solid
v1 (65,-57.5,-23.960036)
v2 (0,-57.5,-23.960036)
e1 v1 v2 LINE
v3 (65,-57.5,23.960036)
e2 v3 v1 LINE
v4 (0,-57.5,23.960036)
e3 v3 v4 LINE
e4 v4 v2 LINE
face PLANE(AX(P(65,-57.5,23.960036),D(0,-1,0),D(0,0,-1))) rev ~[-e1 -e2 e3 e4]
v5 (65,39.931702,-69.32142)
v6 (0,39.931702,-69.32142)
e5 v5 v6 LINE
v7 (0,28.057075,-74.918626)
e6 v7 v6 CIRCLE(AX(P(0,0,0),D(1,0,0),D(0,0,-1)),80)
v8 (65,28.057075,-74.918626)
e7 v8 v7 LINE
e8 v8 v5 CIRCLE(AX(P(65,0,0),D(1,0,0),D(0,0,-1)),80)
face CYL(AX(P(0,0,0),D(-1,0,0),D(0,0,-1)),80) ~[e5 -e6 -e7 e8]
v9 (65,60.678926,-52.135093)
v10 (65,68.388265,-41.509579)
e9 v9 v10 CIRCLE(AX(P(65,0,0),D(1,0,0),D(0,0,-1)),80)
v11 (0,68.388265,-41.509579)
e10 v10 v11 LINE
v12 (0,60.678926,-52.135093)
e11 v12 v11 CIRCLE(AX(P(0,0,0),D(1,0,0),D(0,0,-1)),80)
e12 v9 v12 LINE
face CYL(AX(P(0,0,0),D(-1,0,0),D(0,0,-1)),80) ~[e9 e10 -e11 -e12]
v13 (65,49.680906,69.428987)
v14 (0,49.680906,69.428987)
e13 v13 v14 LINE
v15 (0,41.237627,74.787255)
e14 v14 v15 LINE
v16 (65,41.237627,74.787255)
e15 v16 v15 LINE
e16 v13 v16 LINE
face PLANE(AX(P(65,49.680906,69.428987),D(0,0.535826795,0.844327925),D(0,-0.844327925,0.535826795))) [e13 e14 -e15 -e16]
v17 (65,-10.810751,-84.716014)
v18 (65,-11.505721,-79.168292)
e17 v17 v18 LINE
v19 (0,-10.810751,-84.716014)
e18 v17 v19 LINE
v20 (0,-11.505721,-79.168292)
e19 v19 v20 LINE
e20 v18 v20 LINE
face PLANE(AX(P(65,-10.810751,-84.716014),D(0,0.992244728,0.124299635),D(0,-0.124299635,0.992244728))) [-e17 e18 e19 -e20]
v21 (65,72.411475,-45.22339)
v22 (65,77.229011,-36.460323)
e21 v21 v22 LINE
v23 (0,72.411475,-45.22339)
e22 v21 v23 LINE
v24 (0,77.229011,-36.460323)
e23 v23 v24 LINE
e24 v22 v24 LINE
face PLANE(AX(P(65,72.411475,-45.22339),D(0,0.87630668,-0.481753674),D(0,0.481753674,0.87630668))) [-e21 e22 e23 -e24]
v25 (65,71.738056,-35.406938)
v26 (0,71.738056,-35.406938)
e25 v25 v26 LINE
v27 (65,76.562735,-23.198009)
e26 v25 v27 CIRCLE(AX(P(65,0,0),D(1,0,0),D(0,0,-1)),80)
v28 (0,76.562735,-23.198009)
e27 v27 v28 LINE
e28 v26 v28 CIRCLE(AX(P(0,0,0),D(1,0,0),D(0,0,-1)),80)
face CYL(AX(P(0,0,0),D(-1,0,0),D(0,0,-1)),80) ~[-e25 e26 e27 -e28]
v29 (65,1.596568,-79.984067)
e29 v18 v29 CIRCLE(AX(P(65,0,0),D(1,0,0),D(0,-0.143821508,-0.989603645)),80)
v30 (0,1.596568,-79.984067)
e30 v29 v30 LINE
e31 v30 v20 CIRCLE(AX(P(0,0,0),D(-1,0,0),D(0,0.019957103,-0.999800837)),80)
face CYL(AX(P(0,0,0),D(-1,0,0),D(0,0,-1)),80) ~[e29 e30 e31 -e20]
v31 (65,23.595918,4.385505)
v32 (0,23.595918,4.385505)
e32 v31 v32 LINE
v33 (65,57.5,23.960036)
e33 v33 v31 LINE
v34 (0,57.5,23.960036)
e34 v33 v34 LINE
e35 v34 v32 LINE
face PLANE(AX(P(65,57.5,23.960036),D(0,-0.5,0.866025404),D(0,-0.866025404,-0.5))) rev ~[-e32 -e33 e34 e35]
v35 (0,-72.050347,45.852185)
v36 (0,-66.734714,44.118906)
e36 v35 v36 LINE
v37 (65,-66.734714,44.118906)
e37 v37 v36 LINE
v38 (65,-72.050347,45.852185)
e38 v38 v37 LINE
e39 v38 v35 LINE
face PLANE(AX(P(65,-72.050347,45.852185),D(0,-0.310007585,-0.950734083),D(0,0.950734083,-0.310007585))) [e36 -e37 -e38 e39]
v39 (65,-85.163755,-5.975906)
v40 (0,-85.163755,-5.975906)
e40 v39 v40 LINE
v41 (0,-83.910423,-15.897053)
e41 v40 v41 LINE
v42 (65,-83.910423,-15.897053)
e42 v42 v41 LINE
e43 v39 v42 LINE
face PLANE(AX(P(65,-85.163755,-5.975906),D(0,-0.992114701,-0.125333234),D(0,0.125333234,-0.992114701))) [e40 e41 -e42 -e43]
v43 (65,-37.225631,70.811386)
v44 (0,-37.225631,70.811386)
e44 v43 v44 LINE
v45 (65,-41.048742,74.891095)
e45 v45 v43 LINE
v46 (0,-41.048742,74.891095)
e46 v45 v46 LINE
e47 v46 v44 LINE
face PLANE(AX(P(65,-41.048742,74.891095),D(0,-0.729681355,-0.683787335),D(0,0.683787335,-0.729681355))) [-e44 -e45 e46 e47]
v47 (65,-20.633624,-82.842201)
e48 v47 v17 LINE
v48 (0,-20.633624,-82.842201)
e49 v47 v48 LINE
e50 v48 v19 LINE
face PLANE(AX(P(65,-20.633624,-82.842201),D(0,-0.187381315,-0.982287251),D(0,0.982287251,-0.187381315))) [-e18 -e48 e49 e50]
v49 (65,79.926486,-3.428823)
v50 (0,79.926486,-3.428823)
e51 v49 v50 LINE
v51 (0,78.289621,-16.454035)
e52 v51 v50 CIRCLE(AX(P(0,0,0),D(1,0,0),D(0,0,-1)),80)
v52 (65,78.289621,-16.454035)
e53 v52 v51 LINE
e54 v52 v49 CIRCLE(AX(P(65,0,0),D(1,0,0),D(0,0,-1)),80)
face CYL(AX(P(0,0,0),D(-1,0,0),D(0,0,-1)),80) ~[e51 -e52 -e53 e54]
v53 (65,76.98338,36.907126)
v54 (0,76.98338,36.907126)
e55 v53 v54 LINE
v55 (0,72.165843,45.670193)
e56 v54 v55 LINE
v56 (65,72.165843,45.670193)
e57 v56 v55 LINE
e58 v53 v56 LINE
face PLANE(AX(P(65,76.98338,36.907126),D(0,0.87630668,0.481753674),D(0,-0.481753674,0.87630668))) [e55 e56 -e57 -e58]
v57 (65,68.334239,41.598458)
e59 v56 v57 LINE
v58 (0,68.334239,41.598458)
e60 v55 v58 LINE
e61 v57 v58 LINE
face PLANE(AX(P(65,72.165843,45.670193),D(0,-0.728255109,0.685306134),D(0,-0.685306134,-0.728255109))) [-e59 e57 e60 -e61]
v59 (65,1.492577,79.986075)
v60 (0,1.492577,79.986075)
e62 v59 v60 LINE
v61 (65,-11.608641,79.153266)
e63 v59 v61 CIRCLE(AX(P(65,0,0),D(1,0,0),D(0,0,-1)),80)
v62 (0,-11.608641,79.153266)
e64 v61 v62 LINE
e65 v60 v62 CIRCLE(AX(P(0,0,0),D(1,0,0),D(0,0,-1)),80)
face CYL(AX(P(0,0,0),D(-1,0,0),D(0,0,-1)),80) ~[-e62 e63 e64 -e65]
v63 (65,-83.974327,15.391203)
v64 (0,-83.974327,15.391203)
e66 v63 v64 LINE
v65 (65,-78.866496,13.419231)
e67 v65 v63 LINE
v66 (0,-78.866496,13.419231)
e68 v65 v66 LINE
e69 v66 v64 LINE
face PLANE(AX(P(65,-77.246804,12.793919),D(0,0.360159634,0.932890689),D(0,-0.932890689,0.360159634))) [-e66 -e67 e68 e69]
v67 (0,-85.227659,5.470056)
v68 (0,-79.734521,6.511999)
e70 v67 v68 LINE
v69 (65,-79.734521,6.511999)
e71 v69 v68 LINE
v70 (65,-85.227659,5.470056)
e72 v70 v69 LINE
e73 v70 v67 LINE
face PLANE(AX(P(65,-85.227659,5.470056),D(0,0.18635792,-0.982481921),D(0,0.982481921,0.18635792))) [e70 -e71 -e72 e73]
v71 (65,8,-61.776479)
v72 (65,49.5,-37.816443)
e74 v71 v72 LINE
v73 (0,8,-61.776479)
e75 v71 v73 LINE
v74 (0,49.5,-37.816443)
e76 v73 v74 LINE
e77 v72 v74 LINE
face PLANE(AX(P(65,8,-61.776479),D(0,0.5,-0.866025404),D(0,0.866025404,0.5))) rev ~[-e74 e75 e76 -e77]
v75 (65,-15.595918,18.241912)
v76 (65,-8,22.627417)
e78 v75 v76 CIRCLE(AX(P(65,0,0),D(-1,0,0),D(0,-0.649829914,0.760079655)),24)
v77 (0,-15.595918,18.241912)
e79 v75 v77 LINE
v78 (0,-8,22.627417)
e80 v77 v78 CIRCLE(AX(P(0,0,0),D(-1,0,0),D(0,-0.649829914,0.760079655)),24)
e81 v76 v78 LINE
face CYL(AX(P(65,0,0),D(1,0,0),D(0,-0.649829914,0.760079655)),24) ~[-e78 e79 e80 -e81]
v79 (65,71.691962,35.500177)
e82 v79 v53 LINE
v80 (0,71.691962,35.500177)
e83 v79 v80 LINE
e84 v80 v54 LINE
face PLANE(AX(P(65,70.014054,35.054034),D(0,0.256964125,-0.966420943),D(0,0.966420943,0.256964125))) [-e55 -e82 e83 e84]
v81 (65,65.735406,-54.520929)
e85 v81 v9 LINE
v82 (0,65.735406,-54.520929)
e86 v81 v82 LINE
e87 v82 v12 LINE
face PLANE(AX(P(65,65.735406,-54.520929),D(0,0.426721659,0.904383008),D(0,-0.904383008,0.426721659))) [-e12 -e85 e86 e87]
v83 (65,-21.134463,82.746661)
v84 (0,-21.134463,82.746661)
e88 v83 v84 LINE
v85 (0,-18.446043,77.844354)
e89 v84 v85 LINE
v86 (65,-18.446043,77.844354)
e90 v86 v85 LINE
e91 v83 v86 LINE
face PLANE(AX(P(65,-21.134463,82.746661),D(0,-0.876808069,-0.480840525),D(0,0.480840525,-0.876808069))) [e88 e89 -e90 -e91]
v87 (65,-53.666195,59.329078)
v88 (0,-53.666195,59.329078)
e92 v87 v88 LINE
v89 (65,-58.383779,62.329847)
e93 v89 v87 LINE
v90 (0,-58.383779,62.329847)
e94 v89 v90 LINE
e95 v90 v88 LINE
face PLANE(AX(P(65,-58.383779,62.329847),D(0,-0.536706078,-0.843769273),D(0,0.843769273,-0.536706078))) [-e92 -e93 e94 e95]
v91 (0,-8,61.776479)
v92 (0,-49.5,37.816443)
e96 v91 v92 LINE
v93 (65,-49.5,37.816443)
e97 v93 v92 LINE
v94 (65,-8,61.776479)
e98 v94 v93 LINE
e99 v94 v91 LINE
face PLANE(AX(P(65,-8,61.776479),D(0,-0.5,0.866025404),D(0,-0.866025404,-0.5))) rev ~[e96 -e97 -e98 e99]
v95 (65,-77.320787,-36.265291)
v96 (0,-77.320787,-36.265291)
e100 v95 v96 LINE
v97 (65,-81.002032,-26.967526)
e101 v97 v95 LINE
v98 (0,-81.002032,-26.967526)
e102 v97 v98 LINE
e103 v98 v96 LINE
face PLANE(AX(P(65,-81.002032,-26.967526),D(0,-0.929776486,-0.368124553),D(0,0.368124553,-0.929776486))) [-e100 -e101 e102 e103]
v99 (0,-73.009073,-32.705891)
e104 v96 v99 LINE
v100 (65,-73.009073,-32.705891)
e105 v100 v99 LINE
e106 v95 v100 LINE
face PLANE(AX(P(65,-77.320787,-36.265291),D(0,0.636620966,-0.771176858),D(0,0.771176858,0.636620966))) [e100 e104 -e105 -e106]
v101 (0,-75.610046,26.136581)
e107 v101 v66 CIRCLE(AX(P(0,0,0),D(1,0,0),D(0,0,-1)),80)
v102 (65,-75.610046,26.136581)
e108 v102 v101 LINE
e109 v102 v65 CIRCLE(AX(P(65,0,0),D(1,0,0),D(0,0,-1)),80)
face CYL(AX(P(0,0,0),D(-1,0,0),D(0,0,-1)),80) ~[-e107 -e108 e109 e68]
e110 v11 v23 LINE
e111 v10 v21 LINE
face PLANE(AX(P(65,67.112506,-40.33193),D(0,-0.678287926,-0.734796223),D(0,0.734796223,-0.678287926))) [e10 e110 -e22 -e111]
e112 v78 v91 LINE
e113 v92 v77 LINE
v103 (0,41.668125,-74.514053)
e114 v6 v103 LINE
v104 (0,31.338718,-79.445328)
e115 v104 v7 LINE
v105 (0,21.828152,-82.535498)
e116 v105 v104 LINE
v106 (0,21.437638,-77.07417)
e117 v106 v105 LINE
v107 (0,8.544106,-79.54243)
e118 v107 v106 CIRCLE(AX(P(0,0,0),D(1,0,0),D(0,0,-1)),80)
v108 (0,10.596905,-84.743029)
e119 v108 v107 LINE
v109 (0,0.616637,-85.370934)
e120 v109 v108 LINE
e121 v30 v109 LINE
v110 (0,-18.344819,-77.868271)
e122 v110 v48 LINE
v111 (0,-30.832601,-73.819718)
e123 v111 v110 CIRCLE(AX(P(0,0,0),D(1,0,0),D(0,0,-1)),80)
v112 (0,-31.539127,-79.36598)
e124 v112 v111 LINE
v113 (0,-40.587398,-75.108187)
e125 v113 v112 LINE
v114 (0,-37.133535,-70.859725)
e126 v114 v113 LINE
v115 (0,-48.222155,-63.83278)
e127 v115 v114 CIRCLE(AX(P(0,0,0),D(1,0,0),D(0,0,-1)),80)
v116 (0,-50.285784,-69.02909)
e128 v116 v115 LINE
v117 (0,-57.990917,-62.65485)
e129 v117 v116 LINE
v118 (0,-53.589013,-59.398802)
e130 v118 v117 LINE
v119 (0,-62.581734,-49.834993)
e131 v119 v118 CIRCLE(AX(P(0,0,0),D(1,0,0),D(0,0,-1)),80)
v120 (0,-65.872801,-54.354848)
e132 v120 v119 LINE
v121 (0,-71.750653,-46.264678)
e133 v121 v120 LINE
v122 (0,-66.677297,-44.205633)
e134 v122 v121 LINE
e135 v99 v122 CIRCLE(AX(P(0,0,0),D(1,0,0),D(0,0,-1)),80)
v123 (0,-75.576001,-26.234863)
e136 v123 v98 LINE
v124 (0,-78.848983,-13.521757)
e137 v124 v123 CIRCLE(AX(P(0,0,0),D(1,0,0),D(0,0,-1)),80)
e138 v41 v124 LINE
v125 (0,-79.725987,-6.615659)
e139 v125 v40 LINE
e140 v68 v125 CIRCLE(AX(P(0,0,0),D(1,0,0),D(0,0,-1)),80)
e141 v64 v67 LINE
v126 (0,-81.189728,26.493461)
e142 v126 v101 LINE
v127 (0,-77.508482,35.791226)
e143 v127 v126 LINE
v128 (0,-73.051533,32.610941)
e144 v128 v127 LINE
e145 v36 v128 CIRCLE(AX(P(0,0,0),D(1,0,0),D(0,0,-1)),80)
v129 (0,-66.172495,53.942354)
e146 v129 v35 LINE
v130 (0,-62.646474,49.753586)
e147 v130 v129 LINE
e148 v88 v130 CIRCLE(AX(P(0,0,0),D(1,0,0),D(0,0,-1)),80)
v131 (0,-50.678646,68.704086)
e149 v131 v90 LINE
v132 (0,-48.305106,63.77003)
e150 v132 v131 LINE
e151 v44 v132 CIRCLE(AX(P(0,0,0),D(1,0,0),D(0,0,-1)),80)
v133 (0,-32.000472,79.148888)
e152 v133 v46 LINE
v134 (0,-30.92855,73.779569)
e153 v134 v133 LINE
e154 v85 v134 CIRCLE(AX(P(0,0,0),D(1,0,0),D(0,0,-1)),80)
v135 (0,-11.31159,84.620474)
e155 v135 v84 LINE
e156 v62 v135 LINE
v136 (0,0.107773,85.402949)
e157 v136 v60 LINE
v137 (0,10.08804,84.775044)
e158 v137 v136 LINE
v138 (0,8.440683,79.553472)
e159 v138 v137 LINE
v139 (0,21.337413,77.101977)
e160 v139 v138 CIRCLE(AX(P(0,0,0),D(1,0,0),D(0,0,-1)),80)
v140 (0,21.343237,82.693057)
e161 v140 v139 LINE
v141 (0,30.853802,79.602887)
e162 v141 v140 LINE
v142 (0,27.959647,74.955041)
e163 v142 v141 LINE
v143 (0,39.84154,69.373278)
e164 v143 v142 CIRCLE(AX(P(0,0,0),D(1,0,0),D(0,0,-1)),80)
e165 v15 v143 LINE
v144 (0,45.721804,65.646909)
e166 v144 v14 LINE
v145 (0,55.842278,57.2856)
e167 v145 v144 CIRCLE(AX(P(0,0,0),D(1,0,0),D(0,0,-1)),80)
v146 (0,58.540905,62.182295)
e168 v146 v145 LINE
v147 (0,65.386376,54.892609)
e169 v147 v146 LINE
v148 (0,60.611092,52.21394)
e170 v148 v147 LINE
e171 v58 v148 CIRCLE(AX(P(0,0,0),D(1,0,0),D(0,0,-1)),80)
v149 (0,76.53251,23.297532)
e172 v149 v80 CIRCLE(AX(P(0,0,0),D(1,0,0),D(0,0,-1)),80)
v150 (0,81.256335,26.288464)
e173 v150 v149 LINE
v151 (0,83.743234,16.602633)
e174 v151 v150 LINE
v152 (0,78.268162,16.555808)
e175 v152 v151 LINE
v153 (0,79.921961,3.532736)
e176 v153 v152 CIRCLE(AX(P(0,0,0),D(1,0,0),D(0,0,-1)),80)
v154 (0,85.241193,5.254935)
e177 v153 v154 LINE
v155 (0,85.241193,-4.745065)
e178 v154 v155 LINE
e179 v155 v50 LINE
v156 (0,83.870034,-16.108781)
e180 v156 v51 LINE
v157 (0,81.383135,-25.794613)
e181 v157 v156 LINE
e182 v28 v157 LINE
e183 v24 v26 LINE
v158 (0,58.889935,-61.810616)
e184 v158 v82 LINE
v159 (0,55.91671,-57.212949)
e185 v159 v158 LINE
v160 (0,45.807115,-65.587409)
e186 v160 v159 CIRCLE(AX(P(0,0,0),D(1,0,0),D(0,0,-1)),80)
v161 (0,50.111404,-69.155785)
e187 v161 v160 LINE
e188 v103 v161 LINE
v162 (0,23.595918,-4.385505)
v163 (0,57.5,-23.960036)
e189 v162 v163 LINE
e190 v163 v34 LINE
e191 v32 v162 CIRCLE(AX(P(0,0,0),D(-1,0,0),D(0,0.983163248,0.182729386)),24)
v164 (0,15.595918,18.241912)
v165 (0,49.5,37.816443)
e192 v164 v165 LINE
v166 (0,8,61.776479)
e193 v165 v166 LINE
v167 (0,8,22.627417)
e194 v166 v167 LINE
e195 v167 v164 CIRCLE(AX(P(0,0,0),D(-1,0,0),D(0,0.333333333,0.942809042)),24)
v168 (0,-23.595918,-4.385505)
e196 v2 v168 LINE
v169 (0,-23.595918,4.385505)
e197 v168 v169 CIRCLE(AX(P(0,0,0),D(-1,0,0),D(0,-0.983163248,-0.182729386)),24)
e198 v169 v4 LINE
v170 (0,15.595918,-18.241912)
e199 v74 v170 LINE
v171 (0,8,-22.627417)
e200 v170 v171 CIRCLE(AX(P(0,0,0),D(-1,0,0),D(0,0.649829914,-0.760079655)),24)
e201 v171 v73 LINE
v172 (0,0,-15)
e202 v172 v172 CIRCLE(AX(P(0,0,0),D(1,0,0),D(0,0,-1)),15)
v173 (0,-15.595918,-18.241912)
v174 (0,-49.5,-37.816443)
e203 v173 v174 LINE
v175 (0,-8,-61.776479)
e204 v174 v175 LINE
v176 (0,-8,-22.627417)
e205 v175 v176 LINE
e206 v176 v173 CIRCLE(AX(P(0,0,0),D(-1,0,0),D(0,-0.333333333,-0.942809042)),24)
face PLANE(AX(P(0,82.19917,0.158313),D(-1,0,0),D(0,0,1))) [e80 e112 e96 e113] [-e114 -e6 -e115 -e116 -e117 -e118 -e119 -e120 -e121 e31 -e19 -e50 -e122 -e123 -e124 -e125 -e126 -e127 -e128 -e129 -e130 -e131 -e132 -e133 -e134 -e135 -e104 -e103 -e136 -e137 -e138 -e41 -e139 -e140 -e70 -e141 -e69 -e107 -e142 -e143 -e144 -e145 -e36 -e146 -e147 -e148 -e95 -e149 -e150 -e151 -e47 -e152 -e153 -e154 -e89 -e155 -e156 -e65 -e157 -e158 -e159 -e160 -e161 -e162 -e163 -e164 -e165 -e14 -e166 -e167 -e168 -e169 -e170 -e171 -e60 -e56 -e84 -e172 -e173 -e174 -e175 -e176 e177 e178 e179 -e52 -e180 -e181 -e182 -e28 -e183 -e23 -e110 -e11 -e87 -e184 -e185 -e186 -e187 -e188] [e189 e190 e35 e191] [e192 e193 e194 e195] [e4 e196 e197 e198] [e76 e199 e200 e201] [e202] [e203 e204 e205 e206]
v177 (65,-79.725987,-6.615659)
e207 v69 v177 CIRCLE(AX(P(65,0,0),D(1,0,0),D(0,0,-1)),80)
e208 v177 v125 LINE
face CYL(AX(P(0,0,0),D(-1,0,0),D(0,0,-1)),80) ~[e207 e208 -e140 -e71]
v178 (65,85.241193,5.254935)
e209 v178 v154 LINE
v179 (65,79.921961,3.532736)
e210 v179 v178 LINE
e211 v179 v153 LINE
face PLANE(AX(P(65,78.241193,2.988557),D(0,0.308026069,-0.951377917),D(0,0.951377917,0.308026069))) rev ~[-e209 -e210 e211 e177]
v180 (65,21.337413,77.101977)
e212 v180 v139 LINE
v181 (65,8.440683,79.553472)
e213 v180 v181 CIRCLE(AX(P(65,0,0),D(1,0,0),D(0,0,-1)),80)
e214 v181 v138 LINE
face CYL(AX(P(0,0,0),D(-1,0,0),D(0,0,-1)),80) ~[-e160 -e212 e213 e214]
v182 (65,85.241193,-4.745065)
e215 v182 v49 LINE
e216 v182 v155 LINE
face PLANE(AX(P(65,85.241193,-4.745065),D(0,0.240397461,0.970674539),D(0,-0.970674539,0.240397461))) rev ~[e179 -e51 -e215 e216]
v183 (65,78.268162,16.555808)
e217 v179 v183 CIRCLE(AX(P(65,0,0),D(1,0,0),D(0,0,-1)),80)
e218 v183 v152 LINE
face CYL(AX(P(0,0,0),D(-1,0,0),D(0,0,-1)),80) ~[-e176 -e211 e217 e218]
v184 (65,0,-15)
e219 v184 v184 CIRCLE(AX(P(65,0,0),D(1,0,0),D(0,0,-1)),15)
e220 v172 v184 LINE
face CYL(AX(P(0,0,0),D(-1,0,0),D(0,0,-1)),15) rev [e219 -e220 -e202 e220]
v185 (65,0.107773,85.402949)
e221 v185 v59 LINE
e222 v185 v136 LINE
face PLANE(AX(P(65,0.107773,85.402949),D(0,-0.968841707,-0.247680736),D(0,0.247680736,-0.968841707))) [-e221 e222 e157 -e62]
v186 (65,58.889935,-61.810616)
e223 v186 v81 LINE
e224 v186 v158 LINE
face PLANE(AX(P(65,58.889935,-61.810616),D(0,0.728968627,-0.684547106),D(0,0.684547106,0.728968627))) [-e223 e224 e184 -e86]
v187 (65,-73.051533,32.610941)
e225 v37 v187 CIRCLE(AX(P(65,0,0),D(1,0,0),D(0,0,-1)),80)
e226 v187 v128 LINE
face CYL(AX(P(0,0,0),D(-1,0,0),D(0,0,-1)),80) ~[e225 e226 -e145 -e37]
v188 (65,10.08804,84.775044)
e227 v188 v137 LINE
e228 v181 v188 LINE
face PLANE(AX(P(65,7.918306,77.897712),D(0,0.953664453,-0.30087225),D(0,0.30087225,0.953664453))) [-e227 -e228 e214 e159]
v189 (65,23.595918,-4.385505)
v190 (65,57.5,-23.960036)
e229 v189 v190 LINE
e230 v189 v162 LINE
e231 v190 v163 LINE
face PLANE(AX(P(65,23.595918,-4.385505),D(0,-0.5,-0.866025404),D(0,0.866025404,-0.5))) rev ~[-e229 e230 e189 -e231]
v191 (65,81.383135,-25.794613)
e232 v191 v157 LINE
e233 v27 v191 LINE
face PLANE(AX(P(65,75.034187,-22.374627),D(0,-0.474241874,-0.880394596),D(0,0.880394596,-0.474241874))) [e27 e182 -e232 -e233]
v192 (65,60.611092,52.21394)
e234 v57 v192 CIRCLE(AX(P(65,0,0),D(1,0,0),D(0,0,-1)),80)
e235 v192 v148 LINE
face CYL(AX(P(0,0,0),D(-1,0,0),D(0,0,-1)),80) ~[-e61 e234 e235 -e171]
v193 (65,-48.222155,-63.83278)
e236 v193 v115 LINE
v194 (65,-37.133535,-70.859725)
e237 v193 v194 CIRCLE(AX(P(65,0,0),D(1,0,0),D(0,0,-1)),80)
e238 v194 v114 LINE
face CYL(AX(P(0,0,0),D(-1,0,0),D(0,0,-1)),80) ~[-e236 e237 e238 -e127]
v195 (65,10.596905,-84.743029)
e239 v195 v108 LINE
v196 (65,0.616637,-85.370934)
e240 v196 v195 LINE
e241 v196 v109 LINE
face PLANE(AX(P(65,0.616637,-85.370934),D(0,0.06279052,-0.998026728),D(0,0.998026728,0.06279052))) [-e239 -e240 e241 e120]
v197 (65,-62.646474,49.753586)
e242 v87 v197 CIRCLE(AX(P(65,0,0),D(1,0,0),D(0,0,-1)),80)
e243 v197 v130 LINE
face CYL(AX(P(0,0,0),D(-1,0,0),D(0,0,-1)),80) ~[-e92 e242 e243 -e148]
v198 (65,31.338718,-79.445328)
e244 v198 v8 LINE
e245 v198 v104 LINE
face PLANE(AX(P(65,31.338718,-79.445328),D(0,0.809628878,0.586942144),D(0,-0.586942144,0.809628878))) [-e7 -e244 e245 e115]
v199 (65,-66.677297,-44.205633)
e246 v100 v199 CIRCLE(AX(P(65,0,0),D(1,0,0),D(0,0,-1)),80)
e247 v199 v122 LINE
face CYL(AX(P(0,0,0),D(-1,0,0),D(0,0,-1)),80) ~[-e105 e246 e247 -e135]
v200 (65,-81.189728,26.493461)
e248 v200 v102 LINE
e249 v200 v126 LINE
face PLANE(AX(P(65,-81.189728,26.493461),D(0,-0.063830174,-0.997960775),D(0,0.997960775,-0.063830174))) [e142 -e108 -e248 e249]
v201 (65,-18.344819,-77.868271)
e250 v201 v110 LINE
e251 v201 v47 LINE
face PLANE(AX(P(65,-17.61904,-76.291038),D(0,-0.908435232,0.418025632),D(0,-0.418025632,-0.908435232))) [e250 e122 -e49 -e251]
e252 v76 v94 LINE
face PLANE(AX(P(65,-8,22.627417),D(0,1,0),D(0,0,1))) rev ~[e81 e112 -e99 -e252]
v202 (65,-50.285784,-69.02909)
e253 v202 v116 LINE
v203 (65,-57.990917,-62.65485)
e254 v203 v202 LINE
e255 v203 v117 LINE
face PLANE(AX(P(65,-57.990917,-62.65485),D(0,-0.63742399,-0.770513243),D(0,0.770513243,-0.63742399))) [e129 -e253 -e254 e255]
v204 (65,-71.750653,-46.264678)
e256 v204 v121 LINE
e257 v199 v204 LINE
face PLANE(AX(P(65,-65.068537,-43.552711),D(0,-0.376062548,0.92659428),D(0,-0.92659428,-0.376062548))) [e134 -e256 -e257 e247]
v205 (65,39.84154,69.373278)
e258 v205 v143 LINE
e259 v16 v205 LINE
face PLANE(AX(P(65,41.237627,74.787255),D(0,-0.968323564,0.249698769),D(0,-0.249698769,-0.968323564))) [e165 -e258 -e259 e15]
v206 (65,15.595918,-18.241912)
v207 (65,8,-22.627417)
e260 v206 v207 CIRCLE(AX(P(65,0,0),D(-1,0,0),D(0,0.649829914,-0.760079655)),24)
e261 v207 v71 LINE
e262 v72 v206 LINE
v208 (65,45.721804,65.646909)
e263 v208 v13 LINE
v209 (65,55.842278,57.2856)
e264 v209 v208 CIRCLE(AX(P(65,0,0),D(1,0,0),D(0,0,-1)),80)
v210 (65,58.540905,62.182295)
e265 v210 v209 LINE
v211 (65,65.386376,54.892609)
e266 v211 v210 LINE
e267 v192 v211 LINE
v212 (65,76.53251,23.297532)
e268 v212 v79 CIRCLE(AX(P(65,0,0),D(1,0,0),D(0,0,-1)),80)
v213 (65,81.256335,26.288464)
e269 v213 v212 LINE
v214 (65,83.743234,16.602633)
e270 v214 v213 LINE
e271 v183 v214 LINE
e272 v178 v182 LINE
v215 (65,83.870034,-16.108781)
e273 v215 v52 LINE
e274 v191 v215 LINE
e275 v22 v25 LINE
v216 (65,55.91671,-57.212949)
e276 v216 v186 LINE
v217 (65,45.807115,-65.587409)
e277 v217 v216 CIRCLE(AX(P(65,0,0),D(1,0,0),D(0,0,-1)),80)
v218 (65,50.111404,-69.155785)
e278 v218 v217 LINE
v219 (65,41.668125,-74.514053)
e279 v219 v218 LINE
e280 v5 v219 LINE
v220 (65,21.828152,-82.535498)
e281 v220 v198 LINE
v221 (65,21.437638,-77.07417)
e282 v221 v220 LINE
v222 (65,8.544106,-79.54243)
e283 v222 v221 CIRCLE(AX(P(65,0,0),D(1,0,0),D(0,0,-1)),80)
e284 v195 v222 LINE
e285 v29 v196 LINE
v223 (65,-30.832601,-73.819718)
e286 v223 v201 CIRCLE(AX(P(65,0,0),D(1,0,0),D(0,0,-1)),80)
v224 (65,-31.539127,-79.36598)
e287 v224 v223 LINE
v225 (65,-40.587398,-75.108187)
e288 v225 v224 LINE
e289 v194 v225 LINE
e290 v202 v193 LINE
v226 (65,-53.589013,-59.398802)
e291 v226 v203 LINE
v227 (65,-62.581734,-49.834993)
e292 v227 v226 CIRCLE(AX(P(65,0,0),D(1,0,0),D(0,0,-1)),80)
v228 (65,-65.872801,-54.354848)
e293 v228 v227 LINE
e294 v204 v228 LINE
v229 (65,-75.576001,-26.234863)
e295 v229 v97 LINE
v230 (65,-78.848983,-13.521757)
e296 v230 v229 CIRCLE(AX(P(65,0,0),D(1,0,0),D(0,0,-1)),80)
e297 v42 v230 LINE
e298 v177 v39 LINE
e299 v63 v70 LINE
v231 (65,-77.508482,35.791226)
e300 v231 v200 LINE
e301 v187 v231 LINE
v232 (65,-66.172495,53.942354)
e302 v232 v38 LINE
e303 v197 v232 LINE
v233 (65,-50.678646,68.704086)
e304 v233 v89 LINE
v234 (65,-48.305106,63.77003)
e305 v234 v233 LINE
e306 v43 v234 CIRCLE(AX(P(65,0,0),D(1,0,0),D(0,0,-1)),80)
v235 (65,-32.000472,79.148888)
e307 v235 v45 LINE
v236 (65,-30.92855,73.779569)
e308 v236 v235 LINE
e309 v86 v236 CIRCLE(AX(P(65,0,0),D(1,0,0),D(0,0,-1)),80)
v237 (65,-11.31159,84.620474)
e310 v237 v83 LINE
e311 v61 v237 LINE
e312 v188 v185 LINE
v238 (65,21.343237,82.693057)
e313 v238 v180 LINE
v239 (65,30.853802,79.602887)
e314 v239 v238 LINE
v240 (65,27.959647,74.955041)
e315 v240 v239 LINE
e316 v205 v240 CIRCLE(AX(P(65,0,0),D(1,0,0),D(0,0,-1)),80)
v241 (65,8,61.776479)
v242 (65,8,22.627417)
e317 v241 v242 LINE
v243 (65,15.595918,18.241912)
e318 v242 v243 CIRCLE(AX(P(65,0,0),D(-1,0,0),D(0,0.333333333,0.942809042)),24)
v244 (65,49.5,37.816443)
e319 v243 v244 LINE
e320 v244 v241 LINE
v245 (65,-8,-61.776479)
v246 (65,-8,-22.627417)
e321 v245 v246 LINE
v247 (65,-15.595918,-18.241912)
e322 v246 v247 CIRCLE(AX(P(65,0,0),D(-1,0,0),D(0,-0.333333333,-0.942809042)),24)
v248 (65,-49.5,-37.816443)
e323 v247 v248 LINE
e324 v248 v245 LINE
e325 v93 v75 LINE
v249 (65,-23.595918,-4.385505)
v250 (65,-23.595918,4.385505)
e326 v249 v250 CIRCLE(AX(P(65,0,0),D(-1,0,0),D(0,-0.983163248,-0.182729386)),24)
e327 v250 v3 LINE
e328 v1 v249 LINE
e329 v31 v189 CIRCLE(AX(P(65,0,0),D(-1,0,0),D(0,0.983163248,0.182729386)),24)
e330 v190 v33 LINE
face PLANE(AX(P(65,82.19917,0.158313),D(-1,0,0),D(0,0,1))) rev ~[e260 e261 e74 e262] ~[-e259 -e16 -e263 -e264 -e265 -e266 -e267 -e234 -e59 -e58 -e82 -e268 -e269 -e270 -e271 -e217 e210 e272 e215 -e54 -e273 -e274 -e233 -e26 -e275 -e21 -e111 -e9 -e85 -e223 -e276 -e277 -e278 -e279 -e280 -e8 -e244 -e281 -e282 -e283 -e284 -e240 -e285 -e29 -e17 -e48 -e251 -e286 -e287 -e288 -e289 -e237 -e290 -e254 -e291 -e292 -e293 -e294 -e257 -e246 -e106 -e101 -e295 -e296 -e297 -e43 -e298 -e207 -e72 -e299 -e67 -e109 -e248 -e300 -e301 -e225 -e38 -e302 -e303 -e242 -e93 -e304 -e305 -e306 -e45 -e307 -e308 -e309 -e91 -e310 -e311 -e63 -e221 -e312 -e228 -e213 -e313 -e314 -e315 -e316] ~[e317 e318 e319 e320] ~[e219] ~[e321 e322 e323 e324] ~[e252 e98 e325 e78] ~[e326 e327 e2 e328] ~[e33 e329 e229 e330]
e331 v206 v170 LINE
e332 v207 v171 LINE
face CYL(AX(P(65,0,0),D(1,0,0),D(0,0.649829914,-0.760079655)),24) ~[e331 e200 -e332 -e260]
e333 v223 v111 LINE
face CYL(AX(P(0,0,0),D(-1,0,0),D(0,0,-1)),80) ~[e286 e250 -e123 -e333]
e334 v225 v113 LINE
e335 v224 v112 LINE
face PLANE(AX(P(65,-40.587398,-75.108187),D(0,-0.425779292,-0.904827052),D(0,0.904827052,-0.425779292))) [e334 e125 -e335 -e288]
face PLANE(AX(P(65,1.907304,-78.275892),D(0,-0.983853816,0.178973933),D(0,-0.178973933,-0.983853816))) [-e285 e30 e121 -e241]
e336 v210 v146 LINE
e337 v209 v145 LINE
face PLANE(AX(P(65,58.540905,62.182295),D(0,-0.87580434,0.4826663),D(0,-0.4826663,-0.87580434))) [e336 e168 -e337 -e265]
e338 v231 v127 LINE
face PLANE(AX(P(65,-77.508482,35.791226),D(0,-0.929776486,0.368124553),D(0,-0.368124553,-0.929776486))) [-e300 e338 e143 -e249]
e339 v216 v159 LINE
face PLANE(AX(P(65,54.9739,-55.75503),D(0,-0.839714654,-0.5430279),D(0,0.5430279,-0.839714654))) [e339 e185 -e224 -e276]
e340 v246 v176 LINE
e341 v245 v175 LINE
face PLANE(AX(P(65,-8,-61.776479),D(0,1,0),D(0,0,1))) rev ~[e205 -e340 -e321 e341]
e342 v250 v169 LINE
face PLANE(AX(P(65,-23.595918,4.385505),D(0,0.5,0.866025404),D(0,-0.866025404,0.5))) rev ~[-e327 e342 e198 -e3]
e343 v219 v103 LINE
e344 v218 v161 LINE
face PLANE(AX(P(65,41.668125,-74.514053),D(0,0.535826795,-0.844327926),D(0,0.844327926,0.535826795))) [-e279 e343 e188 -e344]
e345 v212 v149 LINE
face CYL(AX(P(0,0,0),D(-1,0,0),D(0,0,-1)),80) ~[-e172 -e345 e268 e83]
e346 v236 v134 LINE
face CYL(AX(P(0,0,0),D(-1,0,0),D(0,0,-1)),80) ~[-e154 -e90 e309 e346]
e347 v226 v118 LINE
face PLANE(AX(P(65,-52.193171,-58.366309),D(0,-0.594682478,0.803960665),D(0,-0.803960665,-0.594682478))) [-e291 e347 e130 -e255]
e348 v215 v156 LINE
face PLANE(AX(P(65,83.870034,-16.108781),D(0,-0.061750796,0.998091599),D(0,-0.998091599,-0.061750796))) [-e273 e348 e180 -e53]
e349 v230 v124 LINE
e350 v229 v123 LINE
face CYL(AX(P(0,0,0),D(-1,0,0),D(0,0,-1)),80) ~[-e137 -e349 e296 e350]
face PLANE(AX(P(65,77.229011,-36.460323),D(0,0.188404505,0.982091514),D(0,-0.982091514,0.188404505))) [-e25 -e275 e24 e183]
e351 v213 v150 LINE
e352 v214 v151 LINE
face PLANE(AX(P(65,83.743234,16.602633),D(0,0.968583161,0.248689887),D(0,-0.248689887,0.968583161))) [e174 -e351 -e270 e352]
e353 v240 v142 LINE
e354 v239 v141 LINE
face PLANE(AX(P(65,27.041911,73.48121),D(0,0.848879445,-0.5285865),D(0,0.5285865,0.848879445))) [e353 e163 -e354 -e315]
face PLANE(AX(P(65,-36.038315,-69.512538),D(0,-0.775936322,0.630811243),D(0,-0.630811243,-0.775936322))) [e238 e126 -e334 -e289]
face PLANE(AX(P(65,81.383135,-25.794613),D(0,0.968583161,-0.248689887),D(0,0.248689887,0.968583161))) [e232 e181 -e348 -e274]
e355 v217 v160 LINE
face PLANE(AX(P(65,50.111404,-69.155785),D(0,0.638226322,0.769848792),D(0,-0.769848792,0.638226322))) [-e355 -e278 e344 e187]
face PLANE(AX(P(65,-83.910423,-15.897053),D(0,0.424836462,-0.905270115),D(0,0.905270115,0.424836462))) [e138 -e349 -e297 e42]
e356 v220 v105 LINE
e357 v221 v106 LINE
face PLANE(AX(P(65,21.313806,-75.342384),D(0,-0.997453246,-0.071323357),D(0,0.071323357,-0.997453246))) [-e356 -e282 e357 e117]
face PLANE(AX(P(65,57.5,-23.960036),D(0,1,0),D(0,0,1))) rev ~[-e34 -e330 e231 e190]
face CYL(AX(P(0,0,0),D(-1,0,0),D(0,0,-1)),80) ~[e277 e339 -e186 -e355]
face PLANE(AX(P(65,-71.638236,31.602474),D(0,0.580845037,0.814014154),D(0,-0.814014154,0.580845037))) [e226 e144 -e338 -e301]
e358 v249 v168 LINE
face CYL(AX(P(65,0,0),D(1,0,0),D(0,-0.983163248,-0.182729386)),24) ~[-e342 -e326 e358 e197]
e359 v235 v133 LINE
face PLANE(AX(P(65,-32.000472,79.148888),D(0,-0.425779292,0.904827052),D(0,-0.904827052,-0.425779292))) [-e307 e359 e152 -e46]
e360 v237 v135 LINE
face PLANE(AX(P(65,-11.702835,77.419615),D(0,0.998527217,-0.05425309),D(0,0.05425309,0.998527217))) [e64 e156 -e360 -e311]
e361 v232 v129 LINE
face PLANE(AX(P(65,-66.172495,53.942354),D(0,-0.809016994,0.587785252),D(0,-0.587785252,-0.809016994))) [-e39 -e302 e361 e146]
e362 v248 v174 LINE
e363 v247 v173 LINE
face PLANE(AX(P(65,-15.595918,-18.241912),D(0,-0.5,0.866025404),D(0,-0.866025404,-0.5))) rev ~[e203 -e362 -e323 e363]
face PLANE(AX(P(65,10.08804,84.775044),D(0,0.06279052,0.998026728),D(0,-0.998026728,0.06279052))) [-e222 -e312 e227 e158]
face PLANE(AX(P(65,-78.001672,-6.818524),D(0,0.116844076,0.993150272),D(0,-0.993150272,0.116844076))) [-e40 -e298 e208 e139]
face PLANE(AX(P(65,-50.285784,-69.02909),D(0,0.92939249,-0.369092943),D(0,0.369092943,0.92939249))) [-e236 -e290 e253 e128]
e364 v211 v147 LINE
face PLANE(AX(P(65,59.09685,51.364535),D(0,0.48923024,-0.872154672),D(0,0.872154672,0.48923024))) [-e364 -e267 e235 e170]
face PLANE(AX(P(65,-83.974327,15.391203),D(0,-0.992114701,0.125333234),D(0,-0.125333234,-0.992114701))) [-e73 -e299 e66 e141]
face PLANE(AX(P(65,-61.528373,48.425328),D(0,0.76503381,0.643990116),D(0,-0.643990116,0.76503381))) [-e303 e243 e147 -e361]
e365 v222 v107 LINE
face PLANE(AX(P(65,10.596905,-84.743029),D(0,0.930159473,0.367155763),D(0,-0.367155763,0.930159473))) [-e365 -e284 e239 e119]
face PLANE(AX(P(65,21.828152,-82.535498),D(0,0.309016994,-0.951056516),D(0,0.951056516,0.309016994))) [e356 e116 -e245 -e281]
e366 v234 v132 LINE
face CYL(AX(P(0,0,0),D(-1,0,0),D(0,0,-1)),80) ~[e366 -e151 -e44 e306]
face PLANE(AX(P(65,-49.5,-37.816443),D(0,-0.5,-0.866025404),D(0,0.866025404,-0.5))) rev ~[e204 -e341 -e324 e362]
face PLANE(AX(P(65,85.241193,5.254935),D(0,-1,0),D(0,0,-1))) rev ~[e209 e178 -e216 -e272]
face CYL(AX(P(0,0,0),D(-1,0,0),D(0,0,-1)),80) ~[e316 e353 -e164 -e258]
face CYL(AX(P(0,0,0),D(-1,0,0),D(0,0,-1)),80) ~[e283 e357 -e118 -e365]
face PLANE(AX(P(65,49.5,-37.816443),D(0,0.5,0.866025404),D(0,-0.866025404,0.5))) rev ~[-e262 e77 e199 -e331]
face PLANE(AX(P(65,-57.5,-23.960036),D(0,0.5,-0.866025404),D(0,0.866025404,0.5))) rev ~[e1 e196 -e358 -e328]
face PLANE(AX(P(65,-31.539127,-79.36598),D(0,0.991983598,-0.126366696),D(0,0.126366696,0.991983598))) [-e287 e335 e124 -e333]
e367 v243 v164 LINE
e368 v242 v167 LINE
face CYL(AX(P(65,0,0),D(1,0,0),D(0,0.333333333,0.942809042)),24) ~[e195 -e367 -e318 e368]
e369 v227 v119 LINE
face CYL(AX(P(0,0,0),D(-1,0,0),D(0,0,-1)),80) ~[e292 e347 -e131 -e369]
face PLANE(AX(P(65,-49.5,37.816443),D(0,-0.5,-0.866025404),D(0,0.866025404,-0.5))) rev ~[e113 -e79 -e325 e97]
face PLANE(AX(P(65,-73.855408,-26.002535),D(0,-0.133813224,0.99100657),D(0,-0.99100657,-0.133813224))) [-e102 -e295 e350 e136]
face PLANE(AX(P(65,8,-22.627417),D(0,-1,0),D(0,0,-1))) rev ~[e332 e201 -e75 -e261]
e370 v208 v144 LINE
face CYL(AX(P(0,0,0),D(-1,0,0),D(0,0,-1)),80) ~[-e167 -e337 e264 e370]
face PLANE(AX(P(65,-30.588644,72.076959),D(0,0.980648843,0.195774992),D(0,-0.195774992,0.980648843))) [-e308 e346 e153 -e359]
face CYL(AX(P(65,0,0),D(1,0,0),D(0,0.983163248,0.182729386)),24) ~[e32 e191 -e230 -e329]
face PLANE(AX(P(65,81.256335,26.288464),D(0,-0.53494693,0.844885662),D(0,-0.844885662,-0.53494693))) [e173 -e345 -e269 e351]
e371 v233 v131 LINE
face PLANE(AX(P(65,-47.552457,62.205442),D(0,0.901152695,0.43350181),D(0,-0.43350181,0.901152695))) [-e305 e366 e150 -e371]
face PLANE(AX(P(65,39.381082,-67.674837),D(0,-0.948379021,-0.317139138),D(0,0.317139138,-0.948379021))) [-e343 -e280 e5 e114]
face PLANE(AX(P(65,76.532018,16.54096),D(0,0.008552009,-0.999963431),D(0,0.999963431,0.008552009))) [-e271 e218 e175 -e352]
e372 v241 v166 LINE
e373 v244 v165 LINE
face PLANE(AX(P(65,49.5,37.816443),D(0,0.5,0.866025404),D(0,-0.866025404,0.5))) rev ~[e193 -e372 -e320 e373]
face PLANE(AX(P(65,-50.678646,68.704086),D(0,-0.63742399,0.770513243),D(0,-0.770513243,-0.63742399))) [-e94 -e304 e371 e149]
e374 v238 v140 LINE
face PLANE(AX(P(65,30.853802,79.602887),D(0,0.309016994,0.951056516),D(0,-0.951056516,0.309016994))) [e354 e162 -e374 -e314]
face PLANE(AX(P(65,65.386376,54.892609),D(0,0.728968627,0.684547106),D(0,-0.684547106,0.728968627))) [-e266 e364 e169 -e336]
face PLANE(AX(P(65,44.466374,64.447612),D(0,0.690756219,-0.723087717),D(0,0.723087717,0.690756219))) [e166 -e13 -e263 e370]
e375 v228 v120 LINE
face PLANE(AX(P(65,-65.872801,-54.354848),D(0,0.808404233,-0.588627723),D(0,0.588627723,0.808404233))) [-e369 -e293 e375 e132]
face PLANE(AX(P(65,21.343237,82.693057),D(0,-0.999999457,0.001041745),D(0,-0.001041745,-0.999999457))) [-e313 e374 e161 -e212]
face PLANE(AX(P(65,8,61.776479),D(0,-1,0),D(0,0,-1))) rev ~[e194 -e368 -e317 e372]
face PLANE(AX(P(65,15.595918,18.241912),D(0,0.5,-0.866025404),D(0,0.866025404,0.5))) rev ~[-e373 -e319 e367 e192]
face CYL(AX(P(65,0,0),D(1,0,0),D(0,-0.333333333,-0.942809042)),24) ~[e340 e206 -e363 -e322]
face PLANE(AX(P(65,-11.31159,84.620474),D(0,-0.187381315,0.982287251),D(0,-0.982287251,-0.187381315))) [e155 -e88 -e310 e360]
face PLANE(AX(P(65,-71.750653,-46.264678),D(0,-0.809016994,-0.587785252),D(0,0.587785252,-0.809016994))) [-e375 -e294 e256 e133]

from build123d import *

# Parameters (mm, degrees)
SKETCH1_R           = 80
SKETCH1_R_2         = 15
BOSS_EXTRUDE1_DEPTH = 65
CUT_EXTRUDE1_DEPTH  = 65
BOSS_EXTRUDE2_DEPTH = 65


with BuildPart() as part:
    # Sketch1 → Boss-Extrude1 (new body)
    with BuildSketch(Plane(origin=(0, 0, 0), x_dir=(0, 0, -1), z_dir=(1, 0, 0))):
        Circle(SKETCH1_R)
        Circle(SKETCH1_R_2, mode=Mode.SUBTRACT)
    extrude(amount=BOSS_EXTRUDE1_DEPTH)

    # Sketch2 → Cut-Extrude1 (cut)
    with BuildSketch(Plane(origin=(65, 0, 0), x_dir=(0, 0, -1), z_dir=(1, 0, 0))):
        with BuildLine():
            Line((-37.816442632, 49.5), (-61.776478803, 8))
            Line((-61.776478803, 8), (-22.627416998, 8))
            ThreePointArc((-22.627416998, 8), (-20.784609691, 12), (-18.241911729, 15.595917942))
            Line((-18.241911729, 15.595917942), (-37.816442632, 49.5))
        make_face()
        with BuildLine():
            Line((-61.776478803, -8), (-37.816442632, -49.5))
            Line((-37.816442632, -49.5), (-18.241911729, -15.595917942))
            ThreePointArc((-18.241911729, -15.595917942), (-20.784609691, -12), (-22.627416998, -8))
            Line((-22.627416998, -8), (-61.776478803, -8))
        make_face()
        with BuildLine():
            Line((-4.385505269, -23.595917942), (-23.960036171, -57.5))
            Line((-23.960036171, -57.5), (23.960036171, -57.5))
            Line((23.960036171, -57.5), (4.385505269, -23.595917942))
            ThreePointArc((4.385505269, -23.595917942), (0, -24), (-4.385505269, -23.595917942))
        make_face()
        with BuildLine():
            Line((18.241911729, -15.595917942), (37.816442632, -49.5))
            Line((37.816442632, -49.5), (61.776478803, -8))
            Line((61.776478803, -8), (22.627416998, -8))
            ThreePointArc((22.627416998, -8), (20.784609691, -12), (18.241911729, -15.595917942))
        make_face()
        with BuildLine():
            Line((22.627416998, 8), (61.776478803, 8))
            Line((61.776478803, 8), (37.816442632, 49.5))
            Line((37.816442632, 49.5), (18.241911729, 15.595917942))
            ThreePointArc((18.241911729, 15.595917942), (20.784609691, 12), (22.627416998, 8))
        make_face()
        with BuildLine():
            Line((23.960036171, 57.5), (-23.960036171, 57.5))
            Line((-23.960036171, 57.5), (-4.385505269, 23.595917942))
            ThreePointArc((-4.385505269, 23.595917942), (0, 24), (4.385505269, 23.595917942))
            Line((4.385505269, 23.595917942), (23.960036171, 57.5))
        make_face()
    extrude(amount=-CUT_EXTRUDE1_DEPTH, mode=Mode.SUBTRACT)

    # Sketch3 → Boss-Extrude2 (add)
    with BuildSketch(Plane(origin=(65, 0, 0), x_dir=(0, 0, -1), z_dir=(1, 0, 0))):
        Polygon((-5.254935121, 85.241193332), (4.745064879, 85.241193332), (3.011443405, 78.241193332), (-2.988556595, 78.241193332), align=None)
        Polygon((22.374626914, 75.034186847), (25.794612692, 81.383134846), (16.108781081, 83.870033718), (16.563127947, 76.52632617), align=None)
        Polygon((40.331930326, 67.112506447), (45.223390123, 72.411474692), (36.460323323, 77.229011433), (35.074090246, 70.003028491), align=None)
        Polygon((55.755030225, 54.973900443), (61.810615633, 58.889935272), (54.520929359, 65.735406331), (51.381218461, 59.081183079), align=None)
        Polygon((67.674836523, 39.381082095), (74.514052839, 41.668124637), (69.15578489, 50.111403892), (64.459875753, 44.447049648), align=None)
        Polygon((75.342383951, 21.313805526), (82.535498062, 21.828152487), (79.445328118, 31.338717649), (73.488281984, 27.020144624), align=None)
        Polygon((78.275892305, 1.907304169), (85.370934397, 0.616637237), (84.743029202, 10.596904521), (77.899149188, 7.895464539), align=None)
        Polygon((76.291038468, -17.619040124), (82.842200952, -20.633623598), (84.716014098, -10.810751091), (77.415326355, -11.72531662), align=None)
        Polygon((69.512538104, -36.038315328), (75.108187348, -40.587397978), (79.365980264, -31.539127453), (72.067213854, -30.609353013), align=None)
        Polygon((58.366309323, -52.19317064), (62.654850105, -57.990916872), (69.029090003, -50.285784444), (62.190853261, -47.570091183), align=None)
        Polygon((43.55271067, -65.068537087), (46.264678201, -71.750653184), (54.354848145, -65.872800661), (48.406812636, -61.541825573), align=None)
        Polygon((26.00253503, -73.855408044), (26.967526417, -81.002032075), (36.265291276, -77.320786548), (31.581193946, -71.646660728), align=None)
        Polygon((6.818524484, -78.001672092), (5.975905768, -85.163755387), (15.897052781, -83.910423051), (12.771212692, -77.249672691), align=None)
        Polygon((-12.793919032, -77.246804213), (-15.391203019, -83.974326737), (-5.470056006, -85.227659073), (-6.841230825, -77.998803615), align=None)
        Polygon((-31.602473563, -71.638235531), (-35.791225914, -77.508482303), (-26.493461056, -81.18972783), (-26.023814648, -73.846982847), align=None)
        Polygon((-48.425328454, -61.528373044), (-53.942354455, -66.172494869), (-45.852184511, -72.050347392), (-43.571226488, -65.055084558), align=None)
        Polygon((-62.205441863, -47.552456593), (-68.704086479, -50.678646217), (-62.329846582, -58.383778645), (-58.380897924, -52.175536049), align=None)
        Polygon((-72.076958583, -30.588644408), (-79.148888074, -32.00047184), (-74.891095158, -41.048742365), (-69.522282834, -36.017606723), align=None)
        Polygon((-77.419614916, -11.702835198), (-84.620473942, -11.311590128), (-82.746660796, -21.134462636), (-76.295327028, -17.596558703), align=None)
        Polygon((-77.897712113, 7.918306187), (-84.775044219, 10.088040392), (-85.402949415, 0.107773108), (-78.27445523, 1.930145817), align=None)
        Polygon((-73.481209571, 27.041911273), (-79.602886688, 30.853802234), (-82.693056632, 21.343237071), (-75.335311537, 21.335572176), align=None)
        Polygon((-64.447612387, 44.466373621), (-69.428987027, 49.680906209), (-74.787254977, 41.237626954), (-67.662573157, 39.400406068), align=None)
        Polygon((-51.364534694, 59.096850178), (-54.892608769, 65.386376133), (-62.182295043, 58.540905074), (-55.738346459, 54.989567543), align=None)
        Polygon((-35.054034381, 70.014054296), (-36.907126021, 76.983379571), (-45.670192822, 72.16584283), (-40.311874462, 67.123532251), align=None)
        Polygon((-16.540960169, 76.532017888), (-16.602632811, 83.743234145), (-26.288464422, 81.256335273), (-22.352459135, 75.039878565), align=None)
    extrude(amount=-BOSS_EXTRUDE2_DEPTH)


solid = part.part
